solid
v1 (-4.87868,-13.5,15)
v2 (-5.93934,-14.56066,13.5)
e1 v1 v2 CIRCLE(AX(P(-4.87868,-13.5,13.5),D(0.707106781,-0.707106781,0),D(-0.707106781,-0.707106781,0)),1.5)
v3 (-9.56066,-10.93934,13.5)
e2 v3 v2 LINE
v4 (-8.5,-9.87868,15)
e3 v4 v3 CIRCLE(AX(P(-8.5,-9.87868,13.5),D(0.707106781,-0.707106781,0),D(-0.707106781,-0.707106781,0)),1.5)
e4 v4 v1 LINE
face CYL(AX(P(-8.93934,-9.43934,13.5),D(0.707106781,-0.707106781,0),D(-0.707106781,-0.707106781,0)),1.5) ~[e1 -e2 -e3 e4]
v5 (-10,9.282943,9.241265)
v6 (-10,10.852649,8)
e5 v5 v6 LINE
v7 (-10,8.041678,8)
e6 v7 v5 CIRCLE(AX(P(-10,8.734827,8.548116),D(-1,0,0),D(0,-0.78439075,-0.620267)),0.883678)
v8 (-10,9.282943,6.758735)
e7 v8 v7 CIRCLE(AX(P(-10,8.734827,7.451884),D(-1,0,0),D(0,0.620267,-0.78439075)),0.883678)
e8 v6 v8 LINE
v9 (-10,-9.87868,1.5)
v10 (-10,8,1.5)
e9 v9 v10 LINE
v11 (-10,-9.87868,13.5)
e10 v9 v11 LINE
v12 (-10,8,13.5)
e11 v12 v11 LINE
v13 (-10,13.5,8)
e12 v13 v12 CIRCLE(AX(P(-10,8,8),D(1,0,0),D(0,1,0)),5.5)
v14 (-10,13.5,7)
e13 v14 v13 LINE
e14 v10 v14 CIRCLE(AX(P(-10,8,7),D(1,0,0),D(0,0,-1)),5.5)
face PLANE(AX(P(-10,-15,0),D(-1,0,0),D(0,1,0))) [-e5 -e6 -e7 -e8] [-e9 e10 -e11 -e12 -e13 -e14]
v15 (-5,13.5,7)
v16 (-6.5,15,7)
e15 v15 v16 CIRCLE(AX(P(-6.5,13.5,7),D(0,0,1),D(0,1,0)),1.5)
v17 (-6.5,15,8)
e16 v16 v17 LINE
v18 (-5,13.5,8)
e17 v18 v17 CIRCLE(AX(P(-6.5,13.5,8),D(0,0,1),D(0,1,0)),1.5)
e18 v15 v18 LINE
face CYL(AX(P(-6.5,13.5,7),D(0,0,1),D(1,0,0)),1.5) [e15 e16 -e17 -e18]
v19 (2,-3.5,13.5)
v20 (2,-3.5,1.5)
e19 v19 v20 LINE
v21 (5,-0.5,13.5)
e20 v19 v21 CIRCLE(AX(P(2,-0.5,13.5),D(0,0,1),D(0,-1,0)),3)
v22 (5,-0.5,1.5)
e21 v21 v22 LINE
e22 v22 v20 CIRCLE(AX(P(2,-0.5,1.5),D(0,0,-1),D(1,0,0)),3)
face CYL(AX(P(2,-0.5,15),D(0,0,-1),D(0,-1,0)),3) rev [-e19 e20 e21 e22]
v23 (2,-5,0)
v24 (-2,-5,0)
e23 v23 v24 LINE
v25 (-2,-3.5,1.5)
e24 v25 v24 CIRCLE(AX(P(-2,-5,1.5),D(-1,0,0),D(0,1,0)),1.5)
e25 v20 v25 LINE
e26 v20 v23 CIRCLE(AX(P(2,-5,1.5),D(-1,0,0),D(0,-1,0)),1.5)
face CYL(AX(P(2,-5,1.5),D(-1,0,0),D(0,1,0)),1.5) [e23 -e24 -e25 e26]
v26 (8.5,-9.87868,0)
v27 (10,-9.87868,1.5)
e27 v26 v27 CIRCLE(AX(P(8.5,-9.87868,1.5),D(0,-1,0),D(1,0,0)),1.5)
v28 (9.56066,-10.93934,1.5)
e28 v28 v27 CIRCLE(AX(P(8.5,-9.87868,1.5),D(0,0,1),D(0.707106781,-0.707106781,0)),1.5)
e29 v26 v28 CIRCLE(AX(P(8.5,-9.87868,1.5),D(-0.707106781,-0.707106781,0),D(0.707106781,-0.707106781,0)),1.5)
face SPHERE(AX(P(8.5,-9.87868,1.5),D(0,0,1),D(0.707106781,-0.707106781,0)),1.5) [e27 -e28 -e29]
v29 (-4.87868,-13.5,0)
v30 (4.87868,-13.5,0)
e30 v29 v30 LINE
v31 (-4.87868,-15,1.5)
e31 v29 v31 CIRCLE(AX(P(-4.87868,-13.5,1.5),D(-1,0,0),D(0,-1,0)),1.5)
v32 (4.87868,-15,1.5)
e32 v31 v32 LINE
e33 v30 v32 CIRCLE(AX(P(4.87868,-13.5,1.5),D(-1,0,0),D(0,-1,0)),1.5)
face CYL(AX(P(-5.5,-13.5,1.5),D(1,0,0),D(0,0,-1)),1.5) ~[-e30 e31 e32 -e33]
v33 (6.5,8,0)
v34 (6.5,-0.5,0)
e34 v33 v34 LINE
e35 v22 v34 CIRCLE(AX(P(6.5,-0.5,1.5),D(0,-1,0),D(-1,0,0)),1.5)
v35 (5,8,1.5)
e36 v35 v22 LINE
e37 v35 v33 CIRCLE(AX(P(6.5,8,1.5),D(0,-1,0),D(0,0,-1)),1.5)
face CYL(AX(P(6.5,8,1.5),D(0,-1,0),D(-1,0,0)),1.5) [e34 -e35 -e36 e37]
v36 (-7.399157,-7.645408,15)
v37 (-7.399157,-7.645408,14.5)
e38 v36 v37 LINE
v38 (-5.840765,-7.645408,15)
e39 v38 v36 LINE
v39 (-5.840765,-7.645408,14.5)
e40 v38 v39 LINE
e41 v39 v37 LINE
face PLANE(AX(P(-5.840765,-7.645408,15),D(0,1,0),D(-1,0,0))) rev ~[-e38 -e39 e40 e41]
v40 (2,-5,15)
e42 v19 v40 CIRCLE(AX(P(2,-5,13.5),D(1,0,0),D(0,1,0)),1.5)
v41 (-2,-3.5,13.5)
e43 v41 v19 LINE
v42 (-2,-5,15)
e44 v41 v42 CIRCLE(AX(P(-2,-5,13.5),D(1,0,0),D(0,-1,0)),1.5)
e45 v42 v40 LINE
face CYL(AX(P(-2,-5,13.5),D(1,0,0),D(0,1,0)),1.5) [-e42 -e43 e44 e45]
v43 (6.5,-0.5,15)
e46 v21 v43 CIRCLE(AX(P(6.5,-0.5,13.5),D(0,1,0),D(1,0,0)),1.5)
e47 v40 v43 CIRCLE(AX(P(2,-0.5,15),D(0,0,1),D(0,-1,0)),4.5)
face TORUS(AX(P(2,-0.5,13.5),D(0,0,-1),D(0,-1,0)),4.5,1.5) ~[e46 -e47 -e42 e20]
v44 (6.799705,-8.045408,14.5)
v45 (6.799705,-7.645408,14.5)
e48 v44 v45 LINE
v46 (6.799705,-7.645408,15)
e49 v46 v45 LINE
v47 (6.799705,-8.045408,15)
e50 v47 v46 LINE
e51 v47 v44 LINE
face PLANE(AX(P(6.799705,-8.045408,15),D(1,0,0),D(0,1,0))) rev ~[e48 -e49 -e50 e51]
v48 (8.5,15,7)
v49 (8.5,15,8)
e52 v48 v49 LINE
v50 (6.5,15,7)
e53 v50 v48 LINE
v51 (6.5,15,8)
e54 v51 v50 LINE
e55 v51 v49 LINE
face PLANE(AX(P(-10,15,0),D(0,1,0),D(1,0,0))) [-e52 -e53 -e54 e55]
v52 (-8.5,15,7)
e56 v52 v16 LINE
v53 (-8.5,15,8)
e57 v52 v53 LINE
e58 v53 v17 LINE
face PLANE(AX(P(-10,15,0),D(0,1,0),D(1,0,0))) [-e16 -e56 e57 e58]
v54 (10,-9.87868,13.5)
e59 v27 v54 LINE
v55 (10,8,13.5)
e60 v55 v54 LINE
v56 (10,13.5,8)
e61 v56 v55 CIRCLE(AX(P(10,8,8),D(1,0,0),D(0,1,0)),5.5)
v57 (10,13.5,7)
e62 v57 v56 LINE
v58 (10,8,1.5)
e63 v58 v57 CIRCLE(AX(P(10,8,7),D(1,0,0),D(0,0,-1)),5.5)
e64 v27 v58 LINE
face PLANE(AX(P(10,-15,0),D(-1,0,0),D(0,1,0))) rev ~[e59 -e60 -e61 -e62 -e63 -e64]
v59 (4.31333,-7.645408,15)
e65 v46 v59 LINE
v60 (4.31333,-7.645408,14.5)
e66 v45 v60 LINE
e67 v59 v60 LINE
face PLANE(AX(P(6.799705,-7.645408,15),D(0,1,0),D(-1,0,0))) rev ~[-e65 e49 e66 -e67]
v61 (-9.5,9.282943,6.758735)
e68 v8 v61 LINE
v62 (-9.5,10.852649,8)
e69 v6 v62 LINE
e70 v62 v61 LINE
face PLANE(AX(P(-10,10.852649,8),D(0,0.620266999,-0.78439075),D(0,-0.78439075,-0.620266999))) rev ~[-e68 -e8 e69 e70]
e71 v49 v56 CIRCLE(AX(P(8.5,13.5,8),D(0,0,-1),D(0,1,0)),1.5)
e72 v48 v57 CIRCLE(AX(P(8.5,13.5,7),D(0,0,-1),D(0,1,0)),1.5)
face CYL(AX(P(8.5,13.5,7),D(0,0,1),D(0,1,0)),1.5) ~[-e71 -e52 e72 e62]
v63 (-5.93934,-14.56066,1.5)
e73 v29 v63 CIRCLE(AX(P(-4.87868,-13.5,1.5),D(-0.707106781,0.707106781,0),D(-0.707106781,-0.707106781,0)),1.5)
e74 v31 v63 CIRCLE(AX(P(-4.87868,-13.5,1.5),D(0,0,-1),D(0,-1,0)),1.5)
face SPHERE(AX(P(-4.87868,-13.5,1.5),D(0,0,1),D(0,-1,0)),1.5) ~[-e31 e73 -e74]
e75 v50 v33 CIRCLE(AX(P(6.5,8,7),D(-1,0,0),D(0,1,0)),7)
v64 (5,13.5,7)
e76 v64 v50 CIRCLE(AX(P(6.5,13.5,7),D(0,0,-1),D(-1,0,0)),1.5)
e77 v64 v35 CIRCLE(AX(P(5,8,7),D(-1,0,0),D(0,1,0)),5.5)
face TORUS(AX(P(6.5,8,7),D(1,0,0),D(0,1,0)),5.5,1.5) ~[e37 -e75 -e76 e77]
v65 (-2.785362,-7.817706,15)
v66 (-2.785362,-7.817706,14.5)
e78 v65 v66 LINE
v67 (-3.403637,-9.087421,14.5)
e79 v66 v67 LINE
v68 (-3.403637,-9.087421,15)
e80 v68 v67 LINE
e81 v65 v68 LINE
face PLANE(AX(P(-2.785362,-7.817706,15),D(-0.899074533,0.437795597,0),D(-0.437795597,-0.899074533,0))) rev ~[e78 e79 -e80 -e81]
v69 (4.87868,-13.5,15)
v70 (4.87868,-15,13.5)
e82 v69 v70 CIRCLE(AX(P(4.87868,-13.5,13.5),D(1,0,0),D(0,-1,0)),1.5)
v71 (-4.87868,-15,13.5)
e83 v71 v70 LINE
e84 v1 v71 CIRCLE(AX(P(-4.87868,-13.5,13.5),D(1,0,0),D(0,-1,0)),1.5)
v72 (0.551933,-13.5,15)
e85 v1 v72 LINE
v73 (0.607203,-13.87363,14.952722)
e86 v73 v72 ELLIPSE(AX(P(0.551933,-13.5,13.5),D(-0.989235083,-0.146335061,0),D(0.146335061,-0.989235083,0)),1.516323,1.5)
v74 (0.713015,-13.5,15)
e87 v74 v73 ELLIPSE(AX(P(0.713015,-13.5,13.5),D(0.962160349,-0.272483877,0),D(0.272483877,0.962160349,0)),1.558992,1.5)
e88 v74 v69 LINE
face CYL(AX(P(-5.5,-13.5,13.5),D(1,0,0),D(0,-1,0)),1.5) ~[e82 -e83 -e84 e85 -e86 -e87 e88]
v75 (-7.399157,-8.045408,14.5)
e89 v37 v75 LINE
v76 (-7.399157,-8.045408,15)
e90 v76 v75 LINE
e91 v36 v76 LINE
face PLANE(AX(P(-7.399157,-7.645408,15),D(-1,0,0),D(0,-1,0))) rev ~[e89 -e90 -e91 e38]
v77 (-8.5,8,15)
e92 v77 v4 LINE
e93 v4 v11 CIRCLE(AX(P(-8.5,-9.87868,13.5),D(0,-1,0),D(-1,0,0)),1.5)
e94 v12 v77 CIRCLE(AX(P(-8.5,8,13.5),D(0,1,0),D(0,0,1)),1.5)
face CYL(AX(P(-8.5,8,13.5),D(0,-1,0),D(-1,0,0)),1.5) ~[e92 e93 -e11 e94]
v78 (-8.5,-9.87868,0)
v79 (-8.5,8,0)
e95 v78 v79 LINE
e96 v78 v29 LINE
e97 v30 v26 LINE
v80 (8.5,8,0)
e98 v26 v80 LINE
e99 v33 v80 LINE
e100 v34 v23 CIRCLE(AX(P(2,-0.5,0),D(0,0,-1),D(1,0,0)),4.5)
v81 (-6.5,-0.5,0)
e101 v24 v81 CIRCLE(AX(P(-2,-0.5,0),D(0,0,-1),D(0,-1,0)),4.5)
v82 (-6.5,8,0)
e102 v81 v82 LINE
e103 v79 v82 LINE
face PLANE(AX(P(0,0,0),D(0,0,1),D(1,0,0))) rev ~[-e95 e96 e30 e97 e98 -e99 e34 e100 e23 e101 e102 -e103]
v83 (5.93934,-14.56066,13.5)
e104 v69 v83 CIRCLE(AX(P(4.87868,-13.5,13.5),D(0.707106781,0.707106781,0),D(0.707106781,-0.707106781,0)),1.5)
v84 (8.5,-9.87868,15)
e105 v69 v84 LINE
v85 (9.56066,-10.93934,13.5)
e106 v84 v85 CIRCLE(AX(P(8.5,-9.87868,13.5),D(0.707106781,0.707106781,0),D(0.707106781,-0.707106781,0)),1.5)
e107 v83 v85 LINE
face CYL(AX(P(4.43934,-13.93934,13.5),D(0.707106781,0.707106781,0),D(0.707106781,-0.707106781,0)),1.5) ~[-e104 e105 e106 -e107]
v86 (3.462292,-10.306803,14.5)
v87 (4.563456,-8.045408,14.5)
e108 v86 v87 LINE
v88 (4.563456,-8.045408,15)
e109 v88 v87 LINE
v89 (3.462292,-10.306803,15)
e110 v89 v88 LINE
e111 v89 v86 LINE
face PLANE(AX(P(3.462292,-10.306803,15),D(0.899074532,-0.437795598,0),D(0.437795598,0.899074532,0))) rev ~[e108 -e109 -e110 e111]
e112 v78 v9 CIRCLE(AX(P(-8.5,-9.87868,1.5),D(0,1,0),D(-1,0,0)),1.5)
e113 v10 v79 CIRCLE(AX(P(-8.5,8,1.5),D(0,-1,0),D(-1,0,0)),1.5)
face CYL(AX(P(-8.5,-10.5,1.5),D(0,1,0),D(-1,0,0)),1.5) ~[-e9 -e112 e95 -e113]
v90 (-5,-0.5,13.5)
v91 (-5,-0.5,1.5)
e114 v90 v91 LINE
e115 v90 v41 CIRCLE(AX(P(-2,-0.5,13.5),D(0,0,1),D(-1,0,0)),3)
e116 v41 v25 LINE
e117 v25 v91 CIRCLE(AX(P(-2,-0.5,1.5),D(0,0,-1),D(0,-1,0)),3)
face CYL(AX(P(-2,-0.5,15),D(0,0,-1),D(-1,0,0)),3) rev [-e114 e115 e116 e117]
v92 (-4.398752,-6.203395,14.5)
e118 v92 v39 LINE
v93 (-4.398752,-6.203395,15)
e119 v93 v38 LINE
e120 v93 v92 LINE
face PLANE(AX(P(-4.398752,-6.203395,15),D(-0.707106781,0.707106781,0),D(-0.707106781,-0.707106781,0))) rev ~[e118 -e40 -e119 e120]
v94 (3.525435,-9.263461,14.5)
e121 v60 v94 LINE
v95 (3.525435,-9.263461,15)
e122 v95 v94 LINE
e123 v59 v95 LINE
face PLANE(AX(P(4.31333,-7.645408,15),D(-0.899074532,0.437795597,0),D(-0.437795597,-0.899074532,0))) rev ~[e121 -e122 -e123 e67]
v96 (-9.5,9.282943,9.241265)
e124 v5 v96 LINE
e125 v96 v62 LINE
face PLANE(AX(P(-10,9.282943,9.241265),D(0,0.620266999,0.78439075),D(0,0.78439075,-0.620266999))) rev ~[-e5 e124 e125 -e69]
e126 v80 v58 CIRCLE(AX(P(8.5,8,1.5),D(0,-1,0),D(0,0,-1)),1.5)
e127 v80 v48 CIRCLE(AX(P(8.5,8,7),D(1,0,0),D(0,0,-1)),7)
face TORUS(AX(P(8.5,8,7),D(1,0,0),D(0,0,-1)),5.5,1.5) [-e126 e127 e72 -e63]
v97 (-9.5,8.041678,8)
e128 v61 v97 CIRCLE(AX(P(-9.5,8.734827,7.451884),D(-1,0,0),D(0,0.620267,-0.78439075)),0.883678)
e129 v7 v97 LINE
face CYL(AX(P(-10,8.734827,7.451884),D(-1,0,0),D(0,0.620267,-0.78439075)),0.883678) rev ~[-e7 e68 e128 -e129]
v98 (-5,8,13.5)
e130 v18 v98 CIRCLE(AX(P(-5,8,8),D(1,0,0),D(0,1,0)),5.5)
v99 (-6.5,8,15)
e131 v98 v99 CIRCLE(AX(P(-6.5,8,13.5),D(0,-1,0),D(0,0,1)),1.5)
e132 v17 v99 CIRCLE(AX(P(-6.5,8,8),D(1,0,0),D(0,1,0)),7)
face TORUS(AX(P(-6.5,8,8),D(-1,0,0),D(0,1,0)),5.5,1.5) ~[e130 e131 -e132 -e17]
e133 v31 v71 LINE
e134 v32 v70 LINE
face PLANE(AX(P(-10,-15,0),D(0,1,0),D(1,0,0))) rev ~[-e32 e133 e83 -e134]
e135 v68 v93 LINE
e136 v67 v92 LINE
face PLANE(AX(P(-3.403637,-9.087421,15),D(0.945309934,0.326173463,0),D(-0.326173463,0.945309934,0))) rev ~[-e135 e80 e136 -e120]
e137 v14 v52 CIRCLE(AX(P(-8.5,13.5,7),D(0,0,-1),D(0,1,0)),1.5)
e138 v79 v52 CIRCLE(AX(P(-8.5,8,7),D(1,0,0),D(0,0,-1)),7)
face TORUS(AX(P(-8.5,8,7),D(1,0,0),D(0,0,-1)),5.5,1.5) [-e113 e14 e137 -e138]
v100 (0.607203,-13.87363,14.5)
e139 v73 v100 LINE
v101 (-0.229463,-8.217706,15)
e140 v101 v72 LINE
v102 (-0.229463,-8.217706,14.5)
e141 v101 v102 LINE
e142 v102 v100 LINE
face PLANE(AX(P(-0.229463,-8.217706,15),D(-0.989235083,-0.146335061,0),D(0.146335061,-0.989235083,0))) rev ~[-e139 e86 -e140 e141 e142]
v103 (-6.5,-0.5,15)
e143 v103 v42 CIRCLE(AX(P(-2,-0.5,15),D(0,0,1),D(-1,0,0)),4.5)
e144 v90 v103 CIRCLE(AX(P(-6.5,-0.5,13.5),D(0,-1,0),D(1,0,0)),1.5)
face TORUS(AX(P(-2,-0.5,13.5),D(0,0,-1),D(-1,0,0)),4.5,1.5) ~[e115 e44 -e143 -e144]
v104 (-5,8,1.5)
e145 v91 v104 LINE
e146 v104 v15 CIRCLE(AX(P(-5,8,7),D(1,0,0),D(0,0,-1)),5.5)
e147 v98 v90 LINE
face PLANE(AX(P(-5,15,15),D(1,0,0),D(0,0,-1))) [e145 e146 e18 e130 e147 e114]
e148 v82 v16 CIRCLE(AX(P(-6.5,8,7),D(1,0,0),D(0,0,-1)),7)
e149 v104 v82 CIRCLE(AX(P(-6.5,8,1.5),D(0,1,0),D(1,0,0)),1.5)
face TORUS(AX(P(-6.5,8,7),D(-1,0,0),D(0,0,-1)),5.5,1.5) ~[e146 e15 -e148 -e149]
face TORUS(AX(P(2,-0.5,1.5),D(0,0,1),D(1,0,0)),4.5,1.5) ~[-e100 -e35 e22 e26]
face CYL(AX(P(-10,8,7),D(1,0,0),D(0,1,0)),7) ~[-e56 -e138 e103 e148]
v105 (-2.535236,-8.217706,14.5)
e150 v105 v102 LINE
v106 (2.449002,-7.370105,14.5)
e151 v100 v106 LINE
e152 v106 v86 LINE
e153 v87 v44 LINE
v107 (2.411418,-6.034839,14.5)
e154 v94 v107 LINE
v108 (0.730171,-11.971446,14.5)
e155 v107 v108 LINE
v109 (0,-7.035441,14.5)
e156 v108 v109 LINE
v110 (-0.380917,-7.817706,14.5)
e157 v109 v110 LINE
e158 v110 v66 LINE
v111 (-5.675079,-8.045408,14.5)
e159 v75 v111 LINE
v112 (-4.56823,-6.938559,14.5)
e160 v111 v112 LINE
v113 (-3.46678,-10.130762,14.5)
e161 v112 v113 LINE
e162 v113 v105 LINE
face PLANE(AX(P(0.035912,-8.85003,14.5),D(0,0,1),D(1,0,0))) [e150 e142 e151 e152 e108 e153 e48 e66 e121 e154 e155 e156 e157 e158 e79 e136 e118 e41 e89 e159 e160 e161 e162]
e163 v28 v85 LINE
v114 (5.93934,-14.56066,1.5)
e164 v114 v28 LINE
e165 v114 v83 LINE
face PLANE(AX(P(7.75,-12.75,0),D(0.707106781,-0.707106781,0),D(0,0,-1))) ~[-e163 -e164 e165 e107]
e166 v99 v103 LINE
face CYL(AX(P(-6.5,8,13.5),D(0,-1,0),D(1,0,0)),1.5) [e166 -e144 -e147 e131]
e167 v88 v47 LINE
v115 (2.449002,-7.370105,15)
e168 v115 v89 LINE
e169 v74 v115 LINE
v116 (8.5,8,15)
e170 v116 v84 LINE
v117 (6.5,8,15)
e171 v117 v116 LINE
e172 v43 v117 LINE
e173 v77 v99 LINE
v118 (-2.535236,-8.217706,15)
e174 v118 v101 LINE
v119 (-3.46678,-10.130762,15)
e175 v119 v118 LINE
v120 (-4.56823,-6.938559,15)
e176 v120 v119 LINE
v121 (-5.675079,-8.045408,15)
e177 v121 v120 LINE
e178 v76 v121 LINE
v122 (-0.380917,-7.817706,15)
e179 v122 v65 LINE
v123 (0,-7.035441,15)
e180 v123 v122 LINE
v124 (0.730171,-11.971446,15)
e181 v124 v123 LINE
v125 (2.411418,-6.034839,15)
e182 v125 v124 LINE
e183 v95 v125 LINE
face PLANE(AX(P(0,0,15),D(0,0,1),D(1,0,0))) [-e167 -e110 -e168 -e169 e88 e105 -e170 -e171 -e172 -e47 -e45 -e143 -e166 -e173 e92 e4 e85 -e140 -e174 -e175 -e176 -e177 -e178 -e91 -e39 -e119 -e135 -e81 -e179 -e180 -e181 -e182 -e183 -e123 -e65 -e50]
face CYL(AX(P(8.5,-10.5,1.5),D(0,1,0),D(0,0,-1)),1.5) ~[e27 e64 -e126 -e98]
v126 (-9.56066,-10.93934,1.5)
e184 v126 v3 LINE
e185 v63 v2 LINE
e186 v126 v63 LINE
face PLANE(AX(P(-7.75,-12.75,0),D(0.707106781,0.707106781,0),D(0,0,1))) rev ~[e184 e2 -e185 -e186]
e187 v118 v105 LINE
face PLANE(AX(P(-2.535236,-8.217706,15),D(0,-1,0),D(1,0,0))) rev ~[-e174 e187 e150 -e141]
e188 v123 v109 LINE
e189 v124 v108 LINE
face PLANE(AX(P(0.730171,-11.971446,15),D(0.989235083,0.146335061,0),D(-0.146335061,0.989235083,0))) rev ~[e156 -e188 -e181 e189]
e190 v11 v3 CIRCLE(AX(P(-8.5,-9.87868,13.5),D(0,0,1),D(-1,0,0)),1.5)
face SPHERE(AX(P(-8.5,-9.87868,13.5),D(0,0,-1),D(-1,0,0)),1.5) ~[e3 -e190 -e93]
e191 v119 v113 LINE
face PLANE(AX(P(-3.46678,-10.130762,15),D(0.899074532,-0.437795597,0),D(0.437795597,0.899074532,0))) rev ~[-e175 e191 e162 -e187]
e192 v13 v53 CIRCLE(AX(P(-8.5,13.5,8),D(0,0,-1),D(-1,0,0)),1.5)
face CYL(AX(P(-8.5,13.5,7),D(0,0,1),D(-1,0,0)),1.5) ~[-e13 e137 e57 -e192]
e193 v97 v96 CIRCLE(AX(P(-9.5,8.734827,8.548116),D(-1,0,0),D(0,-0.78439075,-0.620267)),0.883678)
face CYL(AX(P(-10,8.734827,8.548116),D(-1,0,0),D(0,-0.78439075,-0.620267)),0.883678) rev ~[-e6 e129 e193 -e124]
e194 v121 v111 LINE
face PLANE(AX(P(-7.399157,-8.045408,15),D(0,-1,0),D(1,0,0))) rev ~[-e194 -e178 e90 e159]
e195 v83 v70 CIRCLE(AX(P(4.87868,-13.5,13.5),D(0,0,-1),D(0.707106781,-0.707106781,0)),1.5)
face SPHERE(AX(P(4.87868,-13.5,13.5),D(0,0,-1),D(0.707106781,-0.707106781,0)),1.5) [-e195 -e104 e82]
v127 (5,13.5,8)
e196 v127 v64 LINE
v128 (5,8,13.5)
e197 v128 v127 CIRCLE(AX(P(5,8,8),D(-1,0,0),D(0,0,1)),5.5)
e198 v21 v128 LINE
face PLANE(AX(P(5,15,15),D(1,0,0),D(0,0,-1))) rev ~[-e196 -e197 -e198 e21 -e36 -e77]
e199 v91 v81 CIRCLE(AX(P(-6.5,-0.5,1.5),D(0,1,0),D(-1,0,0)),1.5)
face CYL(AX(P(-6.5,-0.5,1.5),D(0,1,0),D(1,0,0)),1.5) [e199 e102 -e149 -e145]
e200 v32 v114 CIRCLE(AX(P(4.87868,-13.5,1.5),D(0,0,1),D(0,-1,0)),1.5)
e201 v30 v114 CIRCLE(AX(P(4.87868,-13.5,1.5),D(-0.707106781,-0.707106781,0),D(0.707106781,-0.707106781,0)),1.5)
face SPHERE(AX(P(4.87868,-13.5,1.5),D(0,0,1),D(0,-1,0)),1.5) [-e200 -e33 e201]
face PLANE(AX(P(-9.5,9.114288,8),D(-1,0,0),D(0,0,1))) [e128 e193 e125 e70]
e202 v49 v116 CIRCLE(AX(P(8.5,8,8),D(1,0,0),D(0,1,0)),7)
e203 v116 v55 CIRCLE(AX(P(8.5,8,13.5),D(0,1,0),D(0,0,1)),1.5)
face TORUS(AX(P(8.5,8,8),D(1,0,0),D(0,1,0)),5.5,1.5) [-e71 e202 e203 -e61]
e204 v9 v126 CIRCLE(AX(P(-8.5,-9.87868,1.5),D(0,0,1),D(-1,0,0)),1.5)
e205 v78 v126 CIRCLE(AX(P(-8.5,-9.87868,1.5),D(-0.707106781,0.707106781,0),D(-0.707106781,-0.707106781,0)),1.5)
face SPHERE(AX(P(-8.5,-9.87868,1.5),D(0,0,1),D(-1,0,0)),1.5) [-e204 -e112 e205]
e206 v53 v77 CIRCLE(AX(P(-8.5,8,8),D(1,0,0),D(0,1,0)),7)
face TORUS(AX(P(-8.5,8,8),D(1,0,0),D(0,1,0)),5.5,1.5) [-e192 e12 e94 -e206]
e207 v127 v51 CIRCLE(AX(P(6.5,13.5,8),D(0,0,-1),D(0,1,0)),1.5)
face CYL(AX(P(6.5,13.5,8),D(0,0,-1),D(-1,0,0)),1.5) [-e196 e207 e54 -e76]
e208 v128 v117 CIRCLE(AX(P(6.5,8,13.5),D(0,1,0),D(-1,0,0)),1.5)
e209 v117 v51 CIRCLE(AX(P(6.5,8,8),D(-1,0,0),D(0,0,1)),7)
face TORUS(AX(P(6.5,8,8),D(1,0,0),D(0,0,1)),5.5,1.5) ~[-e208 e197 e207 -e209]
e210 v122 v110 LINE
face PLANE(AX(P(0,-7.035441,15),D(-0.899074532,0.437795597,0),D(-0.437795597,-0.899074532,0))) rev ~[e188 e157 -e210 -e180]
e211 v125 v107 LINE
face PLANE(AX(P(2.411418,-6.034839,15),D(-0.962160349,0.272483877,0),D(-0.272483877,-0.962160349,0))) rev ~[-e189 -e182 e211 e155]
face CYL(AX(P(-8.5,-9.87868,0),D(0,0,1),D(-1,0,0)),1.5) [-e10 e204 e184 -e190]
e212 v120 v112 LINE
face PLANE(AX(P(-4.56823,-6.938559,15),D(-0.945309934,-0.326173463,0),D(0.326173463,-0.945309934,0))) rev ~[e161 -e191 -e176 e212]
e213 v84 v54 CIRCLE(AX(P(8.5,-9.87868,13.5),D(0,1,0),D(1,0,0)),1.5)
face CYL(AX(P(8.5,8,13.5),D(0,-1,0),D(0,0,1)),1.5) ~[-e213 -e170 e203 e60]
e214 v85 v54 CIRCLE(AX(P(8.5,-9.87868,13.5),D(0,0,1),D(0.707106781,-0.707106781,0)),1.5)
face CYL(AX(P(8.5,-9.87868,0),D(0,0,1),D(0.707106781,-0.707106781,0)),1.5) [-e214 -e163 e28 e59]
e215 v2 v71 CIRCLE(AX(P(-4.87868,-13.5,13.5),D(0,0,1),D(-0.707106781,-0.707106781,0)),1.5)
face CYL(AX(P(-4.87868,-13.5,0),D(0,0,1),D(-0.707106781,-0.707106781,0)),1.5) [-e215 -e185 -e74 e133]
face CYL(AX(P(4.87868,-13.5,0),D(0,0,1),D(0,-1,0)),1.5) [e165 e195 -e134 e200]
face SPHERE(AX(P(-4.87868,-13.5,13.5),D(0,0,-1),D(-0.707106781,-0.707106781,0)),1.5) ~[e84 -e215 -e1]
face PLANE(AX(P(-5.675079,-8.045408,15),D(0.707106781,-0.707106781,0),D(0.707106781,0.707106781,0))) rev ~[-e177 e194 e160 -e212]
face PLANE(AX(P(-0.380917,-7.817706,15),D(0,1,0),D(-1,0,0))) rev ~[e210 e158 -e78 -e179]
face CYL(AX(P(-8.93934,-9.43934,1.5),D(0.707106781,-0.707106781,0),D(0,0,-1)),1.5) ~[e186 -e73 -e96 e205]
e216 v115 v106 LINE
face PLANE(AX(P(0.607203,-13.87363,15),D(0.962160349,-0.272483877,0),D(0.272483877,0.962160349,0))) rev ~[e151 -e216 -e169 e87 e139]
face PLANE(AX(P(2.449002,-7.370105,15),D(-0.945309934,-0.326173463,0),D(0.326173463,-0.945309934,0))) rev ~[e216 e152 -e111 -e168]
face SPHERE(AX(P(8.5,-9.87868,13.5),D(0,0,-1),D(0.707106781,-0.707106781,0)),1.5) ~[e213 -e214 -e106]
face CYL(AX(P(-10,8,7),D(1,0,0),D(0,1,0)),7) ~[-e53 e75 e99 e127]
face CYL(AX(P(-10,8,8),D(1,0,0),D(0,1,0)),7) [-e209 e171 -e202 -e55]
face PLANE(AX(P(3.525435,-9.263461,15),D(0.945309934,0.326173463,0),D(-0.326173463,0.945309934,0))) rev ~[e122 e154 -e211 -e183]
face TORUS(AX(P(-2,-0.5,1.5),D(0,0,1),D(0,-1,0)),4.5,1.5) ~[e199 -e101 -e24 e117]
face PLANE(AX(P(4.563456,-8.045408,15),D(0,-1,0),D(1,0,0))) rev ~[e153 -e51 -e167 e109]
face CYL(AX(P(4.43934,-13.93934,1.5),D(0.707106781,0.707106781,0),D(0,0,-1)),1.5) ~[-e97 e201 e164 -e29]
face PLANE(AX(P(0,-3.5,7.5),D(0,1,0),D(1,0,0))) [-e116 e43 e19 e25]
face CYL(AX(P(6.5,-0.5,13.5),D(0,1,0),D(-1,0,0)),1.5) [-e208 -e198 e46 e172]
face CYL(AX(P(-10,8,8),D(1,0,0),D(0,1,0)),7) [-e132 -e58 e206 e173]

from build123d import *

# Parameters (mm, degrees)
ESQUISSE1_W             = 20
ESQUISSE1_H             = 30
BOSS_EXTRU_1_DEPTH      = 15
CONG_1_R                = 7
ESQUISSE2_W             = 10
ESQUISSE2_H             = 15
ENL_V_MAT_EXTRU_1_DEPTH = 18.5
CONG_2_R                = 3
CONG_3_R                = 1.5
CHANFREIN1_SIZE         = 4.5
CONG_4_R                = 1.5
ENL_V_MAT_EXTRU_2_DEPTH = 0.5
ENL_V_MAT_EXTRU_3_DEPTH = 0.5


with BuildPart() as part:
    # Esquisse1 → Boss.-Extru.1 (new body)
    with BuildSketch(Plane.XY):
        Rectangle(ESQUISSE1_W, ESQUISSE1_H)
    extrude(amount=BOSS_EXTRU_1_DEPTH)

    # Congé1
    cong_1_edges = [part.edges().sort_by_distance(p)[0] for p in [
        (0, 15, 0),
        (0, 15, 15),
    ]]
    fillet(cong_1_edges, radius=CONG_1_R)

    # Esquisse2 → Enlèv. mat.-Extru.1 (cut)
    with BuildSketch(Plane(origin=(0, 15, 0), x_dir=(1, 0, 0), z_dir=(0, 1, 0))):
        with Locations((0, -7.5)):
            Rectangle(ESQUISSE2_W, ESQUISSE2_H)
    extrude(amount=-ENL_V_MAT_EXTRU_1_DEPTH, mode=Mode.SUBTRACT)

    # Congé2
    cong_2_edges = [part.edges().sort_by_distance(p)[0] for p in [
        (5, -3.5, 7.5),
        (-5, -3.5, 7.5),
    ]]
    fillet(cong_2_edges, radius=CONG_2_R)

    # Congé3
    cong_3_edges = [part.edges().sort_by_distance(p)[0] for p in [
        (-5, 12.949747468, 12.949747468),
        (5, 12.949747468, 12.949747468),
        (5, 12.949747468, 2.050252532),
        (-5, 12.949747468, 2.050252532),
        (-5, 15, 7.5),
        (5, 15, 7.5),
        (0, -3.5, 0),
        (0, -3.5, 15),
        (-5, 3.75, 15),
        (-5, 3.75, 0),
        (5, 3.75, 0),
        (5, 3.75, 15),
        (-4.121320344, -2.621320344, 15),
        (-4.121320344, -2.621320344, 0),
        (4.121320344, -2.621320344, 0),
        (4.121320344, -2.621320344, 15),
    ]]
    fillet(cong_3_edges, radius=CONG_3_R)

    # Chanfrein1
    chanfrein1_edges = [part.edges().sort_by_distance(p)[0] for p in [
        (10, -15, 7.5),
        (-10, -15, 7.5),
    ]]
    chamfer(chanfrein1_edges, length=CHANFREIN1_SIZE)

    # Congé4
    cong_4_edges = [part.edges().sort_by_distance(p)[0] for p in [
        (10, -1.25, 0),
        (10, -1.25, 15),
        (10, -10.5, 7.5),
        (0, -15, 0),
        (-7.75, -12.75, 0),
        (7.75, -12.75, 0),
        (0, -15, 15),
        (-5.5, -15, 7.5),
        (5.5, -15, 7.5),
        (-7.75, -12.75, 15),
        (7.75, -12.75, 15),
        (-10, -10.5, 7.5),
        (-10, 15, 7.5),
        (10, 15, 7.5),
        (-10, -1.25, 0),
        (-10, -1.25, 15),
        (-10, 12.949747468, 12.949747468),
        (-10, 12.949747468, 2.050252532),
        (10, 12.949747468, 12.949747468),
        (10, 12.949747468, 2.050252532),
    ]]
    fillet(cong_4_edges, radius=CONG_4_R)

    # Esquisse3 → Enlèv. mat.-Extru.2 (cut)
    with BuildSketch(Plane.XY.offset(15)):
        Polygon((6.799705196, -7.645408133), (4.313330171, -7.645408133), (3.525434873, -9.2634614), (2.411418382, -6.034839284), (0.730170893, -11.971446212), (0, -7.035440736), (-0.380916703, -7.817706498), (-2.785361583, -7.817706498), (-3.403636623, -9.087420826), (-4.398752101, -6.20339544), (-5.840764794, -7.645408133), (-7.399157136, -7.645408133), (-7.399157136, -8.045408133), (-5.675079369, -8.045408133), (-4.568230072, -6.938558836), (-3.466779638, -10.130762237), (-2.535235756, -8.217706498), (-0.22946322, -8.217706498), (0.607203371, -13.873630222), (2.449002124, -7.370105128), (3.462291858, -10.306802811), (4.563455998, -8.045408133), (6.799705196, -8.045408133), align=None)
    extrude(amount=-ENL_V_MAT_EXTRU_2_DEPTH, mode=Mode.SUBTRACT)

    # Esquisse4 → Enlèv. mat.-Extru.3 (cut)
    with BuildSketch(Plane.ZY.offset(10)):
        with BuildLine():
            Line((9.241265037, 9.282942777), (8, 10.85264875))
            Line((8, 10.85264875), (6.758734963, 9.282942777))
            ThreePointArc((6.758734963, 9.282942777), (6.827029099, 8.109971877), (8, 8.04167774))
            ThreePointArc((8, 8.04167774), (9.172970901, 8.109971877), (9.241265037, 9.282942777))
        make_face()
    extrude(amount=-ENL_V_MAT_EXTRU_3_DEPTH, mode=Mode.SUBTRACT)


solid = part.part
